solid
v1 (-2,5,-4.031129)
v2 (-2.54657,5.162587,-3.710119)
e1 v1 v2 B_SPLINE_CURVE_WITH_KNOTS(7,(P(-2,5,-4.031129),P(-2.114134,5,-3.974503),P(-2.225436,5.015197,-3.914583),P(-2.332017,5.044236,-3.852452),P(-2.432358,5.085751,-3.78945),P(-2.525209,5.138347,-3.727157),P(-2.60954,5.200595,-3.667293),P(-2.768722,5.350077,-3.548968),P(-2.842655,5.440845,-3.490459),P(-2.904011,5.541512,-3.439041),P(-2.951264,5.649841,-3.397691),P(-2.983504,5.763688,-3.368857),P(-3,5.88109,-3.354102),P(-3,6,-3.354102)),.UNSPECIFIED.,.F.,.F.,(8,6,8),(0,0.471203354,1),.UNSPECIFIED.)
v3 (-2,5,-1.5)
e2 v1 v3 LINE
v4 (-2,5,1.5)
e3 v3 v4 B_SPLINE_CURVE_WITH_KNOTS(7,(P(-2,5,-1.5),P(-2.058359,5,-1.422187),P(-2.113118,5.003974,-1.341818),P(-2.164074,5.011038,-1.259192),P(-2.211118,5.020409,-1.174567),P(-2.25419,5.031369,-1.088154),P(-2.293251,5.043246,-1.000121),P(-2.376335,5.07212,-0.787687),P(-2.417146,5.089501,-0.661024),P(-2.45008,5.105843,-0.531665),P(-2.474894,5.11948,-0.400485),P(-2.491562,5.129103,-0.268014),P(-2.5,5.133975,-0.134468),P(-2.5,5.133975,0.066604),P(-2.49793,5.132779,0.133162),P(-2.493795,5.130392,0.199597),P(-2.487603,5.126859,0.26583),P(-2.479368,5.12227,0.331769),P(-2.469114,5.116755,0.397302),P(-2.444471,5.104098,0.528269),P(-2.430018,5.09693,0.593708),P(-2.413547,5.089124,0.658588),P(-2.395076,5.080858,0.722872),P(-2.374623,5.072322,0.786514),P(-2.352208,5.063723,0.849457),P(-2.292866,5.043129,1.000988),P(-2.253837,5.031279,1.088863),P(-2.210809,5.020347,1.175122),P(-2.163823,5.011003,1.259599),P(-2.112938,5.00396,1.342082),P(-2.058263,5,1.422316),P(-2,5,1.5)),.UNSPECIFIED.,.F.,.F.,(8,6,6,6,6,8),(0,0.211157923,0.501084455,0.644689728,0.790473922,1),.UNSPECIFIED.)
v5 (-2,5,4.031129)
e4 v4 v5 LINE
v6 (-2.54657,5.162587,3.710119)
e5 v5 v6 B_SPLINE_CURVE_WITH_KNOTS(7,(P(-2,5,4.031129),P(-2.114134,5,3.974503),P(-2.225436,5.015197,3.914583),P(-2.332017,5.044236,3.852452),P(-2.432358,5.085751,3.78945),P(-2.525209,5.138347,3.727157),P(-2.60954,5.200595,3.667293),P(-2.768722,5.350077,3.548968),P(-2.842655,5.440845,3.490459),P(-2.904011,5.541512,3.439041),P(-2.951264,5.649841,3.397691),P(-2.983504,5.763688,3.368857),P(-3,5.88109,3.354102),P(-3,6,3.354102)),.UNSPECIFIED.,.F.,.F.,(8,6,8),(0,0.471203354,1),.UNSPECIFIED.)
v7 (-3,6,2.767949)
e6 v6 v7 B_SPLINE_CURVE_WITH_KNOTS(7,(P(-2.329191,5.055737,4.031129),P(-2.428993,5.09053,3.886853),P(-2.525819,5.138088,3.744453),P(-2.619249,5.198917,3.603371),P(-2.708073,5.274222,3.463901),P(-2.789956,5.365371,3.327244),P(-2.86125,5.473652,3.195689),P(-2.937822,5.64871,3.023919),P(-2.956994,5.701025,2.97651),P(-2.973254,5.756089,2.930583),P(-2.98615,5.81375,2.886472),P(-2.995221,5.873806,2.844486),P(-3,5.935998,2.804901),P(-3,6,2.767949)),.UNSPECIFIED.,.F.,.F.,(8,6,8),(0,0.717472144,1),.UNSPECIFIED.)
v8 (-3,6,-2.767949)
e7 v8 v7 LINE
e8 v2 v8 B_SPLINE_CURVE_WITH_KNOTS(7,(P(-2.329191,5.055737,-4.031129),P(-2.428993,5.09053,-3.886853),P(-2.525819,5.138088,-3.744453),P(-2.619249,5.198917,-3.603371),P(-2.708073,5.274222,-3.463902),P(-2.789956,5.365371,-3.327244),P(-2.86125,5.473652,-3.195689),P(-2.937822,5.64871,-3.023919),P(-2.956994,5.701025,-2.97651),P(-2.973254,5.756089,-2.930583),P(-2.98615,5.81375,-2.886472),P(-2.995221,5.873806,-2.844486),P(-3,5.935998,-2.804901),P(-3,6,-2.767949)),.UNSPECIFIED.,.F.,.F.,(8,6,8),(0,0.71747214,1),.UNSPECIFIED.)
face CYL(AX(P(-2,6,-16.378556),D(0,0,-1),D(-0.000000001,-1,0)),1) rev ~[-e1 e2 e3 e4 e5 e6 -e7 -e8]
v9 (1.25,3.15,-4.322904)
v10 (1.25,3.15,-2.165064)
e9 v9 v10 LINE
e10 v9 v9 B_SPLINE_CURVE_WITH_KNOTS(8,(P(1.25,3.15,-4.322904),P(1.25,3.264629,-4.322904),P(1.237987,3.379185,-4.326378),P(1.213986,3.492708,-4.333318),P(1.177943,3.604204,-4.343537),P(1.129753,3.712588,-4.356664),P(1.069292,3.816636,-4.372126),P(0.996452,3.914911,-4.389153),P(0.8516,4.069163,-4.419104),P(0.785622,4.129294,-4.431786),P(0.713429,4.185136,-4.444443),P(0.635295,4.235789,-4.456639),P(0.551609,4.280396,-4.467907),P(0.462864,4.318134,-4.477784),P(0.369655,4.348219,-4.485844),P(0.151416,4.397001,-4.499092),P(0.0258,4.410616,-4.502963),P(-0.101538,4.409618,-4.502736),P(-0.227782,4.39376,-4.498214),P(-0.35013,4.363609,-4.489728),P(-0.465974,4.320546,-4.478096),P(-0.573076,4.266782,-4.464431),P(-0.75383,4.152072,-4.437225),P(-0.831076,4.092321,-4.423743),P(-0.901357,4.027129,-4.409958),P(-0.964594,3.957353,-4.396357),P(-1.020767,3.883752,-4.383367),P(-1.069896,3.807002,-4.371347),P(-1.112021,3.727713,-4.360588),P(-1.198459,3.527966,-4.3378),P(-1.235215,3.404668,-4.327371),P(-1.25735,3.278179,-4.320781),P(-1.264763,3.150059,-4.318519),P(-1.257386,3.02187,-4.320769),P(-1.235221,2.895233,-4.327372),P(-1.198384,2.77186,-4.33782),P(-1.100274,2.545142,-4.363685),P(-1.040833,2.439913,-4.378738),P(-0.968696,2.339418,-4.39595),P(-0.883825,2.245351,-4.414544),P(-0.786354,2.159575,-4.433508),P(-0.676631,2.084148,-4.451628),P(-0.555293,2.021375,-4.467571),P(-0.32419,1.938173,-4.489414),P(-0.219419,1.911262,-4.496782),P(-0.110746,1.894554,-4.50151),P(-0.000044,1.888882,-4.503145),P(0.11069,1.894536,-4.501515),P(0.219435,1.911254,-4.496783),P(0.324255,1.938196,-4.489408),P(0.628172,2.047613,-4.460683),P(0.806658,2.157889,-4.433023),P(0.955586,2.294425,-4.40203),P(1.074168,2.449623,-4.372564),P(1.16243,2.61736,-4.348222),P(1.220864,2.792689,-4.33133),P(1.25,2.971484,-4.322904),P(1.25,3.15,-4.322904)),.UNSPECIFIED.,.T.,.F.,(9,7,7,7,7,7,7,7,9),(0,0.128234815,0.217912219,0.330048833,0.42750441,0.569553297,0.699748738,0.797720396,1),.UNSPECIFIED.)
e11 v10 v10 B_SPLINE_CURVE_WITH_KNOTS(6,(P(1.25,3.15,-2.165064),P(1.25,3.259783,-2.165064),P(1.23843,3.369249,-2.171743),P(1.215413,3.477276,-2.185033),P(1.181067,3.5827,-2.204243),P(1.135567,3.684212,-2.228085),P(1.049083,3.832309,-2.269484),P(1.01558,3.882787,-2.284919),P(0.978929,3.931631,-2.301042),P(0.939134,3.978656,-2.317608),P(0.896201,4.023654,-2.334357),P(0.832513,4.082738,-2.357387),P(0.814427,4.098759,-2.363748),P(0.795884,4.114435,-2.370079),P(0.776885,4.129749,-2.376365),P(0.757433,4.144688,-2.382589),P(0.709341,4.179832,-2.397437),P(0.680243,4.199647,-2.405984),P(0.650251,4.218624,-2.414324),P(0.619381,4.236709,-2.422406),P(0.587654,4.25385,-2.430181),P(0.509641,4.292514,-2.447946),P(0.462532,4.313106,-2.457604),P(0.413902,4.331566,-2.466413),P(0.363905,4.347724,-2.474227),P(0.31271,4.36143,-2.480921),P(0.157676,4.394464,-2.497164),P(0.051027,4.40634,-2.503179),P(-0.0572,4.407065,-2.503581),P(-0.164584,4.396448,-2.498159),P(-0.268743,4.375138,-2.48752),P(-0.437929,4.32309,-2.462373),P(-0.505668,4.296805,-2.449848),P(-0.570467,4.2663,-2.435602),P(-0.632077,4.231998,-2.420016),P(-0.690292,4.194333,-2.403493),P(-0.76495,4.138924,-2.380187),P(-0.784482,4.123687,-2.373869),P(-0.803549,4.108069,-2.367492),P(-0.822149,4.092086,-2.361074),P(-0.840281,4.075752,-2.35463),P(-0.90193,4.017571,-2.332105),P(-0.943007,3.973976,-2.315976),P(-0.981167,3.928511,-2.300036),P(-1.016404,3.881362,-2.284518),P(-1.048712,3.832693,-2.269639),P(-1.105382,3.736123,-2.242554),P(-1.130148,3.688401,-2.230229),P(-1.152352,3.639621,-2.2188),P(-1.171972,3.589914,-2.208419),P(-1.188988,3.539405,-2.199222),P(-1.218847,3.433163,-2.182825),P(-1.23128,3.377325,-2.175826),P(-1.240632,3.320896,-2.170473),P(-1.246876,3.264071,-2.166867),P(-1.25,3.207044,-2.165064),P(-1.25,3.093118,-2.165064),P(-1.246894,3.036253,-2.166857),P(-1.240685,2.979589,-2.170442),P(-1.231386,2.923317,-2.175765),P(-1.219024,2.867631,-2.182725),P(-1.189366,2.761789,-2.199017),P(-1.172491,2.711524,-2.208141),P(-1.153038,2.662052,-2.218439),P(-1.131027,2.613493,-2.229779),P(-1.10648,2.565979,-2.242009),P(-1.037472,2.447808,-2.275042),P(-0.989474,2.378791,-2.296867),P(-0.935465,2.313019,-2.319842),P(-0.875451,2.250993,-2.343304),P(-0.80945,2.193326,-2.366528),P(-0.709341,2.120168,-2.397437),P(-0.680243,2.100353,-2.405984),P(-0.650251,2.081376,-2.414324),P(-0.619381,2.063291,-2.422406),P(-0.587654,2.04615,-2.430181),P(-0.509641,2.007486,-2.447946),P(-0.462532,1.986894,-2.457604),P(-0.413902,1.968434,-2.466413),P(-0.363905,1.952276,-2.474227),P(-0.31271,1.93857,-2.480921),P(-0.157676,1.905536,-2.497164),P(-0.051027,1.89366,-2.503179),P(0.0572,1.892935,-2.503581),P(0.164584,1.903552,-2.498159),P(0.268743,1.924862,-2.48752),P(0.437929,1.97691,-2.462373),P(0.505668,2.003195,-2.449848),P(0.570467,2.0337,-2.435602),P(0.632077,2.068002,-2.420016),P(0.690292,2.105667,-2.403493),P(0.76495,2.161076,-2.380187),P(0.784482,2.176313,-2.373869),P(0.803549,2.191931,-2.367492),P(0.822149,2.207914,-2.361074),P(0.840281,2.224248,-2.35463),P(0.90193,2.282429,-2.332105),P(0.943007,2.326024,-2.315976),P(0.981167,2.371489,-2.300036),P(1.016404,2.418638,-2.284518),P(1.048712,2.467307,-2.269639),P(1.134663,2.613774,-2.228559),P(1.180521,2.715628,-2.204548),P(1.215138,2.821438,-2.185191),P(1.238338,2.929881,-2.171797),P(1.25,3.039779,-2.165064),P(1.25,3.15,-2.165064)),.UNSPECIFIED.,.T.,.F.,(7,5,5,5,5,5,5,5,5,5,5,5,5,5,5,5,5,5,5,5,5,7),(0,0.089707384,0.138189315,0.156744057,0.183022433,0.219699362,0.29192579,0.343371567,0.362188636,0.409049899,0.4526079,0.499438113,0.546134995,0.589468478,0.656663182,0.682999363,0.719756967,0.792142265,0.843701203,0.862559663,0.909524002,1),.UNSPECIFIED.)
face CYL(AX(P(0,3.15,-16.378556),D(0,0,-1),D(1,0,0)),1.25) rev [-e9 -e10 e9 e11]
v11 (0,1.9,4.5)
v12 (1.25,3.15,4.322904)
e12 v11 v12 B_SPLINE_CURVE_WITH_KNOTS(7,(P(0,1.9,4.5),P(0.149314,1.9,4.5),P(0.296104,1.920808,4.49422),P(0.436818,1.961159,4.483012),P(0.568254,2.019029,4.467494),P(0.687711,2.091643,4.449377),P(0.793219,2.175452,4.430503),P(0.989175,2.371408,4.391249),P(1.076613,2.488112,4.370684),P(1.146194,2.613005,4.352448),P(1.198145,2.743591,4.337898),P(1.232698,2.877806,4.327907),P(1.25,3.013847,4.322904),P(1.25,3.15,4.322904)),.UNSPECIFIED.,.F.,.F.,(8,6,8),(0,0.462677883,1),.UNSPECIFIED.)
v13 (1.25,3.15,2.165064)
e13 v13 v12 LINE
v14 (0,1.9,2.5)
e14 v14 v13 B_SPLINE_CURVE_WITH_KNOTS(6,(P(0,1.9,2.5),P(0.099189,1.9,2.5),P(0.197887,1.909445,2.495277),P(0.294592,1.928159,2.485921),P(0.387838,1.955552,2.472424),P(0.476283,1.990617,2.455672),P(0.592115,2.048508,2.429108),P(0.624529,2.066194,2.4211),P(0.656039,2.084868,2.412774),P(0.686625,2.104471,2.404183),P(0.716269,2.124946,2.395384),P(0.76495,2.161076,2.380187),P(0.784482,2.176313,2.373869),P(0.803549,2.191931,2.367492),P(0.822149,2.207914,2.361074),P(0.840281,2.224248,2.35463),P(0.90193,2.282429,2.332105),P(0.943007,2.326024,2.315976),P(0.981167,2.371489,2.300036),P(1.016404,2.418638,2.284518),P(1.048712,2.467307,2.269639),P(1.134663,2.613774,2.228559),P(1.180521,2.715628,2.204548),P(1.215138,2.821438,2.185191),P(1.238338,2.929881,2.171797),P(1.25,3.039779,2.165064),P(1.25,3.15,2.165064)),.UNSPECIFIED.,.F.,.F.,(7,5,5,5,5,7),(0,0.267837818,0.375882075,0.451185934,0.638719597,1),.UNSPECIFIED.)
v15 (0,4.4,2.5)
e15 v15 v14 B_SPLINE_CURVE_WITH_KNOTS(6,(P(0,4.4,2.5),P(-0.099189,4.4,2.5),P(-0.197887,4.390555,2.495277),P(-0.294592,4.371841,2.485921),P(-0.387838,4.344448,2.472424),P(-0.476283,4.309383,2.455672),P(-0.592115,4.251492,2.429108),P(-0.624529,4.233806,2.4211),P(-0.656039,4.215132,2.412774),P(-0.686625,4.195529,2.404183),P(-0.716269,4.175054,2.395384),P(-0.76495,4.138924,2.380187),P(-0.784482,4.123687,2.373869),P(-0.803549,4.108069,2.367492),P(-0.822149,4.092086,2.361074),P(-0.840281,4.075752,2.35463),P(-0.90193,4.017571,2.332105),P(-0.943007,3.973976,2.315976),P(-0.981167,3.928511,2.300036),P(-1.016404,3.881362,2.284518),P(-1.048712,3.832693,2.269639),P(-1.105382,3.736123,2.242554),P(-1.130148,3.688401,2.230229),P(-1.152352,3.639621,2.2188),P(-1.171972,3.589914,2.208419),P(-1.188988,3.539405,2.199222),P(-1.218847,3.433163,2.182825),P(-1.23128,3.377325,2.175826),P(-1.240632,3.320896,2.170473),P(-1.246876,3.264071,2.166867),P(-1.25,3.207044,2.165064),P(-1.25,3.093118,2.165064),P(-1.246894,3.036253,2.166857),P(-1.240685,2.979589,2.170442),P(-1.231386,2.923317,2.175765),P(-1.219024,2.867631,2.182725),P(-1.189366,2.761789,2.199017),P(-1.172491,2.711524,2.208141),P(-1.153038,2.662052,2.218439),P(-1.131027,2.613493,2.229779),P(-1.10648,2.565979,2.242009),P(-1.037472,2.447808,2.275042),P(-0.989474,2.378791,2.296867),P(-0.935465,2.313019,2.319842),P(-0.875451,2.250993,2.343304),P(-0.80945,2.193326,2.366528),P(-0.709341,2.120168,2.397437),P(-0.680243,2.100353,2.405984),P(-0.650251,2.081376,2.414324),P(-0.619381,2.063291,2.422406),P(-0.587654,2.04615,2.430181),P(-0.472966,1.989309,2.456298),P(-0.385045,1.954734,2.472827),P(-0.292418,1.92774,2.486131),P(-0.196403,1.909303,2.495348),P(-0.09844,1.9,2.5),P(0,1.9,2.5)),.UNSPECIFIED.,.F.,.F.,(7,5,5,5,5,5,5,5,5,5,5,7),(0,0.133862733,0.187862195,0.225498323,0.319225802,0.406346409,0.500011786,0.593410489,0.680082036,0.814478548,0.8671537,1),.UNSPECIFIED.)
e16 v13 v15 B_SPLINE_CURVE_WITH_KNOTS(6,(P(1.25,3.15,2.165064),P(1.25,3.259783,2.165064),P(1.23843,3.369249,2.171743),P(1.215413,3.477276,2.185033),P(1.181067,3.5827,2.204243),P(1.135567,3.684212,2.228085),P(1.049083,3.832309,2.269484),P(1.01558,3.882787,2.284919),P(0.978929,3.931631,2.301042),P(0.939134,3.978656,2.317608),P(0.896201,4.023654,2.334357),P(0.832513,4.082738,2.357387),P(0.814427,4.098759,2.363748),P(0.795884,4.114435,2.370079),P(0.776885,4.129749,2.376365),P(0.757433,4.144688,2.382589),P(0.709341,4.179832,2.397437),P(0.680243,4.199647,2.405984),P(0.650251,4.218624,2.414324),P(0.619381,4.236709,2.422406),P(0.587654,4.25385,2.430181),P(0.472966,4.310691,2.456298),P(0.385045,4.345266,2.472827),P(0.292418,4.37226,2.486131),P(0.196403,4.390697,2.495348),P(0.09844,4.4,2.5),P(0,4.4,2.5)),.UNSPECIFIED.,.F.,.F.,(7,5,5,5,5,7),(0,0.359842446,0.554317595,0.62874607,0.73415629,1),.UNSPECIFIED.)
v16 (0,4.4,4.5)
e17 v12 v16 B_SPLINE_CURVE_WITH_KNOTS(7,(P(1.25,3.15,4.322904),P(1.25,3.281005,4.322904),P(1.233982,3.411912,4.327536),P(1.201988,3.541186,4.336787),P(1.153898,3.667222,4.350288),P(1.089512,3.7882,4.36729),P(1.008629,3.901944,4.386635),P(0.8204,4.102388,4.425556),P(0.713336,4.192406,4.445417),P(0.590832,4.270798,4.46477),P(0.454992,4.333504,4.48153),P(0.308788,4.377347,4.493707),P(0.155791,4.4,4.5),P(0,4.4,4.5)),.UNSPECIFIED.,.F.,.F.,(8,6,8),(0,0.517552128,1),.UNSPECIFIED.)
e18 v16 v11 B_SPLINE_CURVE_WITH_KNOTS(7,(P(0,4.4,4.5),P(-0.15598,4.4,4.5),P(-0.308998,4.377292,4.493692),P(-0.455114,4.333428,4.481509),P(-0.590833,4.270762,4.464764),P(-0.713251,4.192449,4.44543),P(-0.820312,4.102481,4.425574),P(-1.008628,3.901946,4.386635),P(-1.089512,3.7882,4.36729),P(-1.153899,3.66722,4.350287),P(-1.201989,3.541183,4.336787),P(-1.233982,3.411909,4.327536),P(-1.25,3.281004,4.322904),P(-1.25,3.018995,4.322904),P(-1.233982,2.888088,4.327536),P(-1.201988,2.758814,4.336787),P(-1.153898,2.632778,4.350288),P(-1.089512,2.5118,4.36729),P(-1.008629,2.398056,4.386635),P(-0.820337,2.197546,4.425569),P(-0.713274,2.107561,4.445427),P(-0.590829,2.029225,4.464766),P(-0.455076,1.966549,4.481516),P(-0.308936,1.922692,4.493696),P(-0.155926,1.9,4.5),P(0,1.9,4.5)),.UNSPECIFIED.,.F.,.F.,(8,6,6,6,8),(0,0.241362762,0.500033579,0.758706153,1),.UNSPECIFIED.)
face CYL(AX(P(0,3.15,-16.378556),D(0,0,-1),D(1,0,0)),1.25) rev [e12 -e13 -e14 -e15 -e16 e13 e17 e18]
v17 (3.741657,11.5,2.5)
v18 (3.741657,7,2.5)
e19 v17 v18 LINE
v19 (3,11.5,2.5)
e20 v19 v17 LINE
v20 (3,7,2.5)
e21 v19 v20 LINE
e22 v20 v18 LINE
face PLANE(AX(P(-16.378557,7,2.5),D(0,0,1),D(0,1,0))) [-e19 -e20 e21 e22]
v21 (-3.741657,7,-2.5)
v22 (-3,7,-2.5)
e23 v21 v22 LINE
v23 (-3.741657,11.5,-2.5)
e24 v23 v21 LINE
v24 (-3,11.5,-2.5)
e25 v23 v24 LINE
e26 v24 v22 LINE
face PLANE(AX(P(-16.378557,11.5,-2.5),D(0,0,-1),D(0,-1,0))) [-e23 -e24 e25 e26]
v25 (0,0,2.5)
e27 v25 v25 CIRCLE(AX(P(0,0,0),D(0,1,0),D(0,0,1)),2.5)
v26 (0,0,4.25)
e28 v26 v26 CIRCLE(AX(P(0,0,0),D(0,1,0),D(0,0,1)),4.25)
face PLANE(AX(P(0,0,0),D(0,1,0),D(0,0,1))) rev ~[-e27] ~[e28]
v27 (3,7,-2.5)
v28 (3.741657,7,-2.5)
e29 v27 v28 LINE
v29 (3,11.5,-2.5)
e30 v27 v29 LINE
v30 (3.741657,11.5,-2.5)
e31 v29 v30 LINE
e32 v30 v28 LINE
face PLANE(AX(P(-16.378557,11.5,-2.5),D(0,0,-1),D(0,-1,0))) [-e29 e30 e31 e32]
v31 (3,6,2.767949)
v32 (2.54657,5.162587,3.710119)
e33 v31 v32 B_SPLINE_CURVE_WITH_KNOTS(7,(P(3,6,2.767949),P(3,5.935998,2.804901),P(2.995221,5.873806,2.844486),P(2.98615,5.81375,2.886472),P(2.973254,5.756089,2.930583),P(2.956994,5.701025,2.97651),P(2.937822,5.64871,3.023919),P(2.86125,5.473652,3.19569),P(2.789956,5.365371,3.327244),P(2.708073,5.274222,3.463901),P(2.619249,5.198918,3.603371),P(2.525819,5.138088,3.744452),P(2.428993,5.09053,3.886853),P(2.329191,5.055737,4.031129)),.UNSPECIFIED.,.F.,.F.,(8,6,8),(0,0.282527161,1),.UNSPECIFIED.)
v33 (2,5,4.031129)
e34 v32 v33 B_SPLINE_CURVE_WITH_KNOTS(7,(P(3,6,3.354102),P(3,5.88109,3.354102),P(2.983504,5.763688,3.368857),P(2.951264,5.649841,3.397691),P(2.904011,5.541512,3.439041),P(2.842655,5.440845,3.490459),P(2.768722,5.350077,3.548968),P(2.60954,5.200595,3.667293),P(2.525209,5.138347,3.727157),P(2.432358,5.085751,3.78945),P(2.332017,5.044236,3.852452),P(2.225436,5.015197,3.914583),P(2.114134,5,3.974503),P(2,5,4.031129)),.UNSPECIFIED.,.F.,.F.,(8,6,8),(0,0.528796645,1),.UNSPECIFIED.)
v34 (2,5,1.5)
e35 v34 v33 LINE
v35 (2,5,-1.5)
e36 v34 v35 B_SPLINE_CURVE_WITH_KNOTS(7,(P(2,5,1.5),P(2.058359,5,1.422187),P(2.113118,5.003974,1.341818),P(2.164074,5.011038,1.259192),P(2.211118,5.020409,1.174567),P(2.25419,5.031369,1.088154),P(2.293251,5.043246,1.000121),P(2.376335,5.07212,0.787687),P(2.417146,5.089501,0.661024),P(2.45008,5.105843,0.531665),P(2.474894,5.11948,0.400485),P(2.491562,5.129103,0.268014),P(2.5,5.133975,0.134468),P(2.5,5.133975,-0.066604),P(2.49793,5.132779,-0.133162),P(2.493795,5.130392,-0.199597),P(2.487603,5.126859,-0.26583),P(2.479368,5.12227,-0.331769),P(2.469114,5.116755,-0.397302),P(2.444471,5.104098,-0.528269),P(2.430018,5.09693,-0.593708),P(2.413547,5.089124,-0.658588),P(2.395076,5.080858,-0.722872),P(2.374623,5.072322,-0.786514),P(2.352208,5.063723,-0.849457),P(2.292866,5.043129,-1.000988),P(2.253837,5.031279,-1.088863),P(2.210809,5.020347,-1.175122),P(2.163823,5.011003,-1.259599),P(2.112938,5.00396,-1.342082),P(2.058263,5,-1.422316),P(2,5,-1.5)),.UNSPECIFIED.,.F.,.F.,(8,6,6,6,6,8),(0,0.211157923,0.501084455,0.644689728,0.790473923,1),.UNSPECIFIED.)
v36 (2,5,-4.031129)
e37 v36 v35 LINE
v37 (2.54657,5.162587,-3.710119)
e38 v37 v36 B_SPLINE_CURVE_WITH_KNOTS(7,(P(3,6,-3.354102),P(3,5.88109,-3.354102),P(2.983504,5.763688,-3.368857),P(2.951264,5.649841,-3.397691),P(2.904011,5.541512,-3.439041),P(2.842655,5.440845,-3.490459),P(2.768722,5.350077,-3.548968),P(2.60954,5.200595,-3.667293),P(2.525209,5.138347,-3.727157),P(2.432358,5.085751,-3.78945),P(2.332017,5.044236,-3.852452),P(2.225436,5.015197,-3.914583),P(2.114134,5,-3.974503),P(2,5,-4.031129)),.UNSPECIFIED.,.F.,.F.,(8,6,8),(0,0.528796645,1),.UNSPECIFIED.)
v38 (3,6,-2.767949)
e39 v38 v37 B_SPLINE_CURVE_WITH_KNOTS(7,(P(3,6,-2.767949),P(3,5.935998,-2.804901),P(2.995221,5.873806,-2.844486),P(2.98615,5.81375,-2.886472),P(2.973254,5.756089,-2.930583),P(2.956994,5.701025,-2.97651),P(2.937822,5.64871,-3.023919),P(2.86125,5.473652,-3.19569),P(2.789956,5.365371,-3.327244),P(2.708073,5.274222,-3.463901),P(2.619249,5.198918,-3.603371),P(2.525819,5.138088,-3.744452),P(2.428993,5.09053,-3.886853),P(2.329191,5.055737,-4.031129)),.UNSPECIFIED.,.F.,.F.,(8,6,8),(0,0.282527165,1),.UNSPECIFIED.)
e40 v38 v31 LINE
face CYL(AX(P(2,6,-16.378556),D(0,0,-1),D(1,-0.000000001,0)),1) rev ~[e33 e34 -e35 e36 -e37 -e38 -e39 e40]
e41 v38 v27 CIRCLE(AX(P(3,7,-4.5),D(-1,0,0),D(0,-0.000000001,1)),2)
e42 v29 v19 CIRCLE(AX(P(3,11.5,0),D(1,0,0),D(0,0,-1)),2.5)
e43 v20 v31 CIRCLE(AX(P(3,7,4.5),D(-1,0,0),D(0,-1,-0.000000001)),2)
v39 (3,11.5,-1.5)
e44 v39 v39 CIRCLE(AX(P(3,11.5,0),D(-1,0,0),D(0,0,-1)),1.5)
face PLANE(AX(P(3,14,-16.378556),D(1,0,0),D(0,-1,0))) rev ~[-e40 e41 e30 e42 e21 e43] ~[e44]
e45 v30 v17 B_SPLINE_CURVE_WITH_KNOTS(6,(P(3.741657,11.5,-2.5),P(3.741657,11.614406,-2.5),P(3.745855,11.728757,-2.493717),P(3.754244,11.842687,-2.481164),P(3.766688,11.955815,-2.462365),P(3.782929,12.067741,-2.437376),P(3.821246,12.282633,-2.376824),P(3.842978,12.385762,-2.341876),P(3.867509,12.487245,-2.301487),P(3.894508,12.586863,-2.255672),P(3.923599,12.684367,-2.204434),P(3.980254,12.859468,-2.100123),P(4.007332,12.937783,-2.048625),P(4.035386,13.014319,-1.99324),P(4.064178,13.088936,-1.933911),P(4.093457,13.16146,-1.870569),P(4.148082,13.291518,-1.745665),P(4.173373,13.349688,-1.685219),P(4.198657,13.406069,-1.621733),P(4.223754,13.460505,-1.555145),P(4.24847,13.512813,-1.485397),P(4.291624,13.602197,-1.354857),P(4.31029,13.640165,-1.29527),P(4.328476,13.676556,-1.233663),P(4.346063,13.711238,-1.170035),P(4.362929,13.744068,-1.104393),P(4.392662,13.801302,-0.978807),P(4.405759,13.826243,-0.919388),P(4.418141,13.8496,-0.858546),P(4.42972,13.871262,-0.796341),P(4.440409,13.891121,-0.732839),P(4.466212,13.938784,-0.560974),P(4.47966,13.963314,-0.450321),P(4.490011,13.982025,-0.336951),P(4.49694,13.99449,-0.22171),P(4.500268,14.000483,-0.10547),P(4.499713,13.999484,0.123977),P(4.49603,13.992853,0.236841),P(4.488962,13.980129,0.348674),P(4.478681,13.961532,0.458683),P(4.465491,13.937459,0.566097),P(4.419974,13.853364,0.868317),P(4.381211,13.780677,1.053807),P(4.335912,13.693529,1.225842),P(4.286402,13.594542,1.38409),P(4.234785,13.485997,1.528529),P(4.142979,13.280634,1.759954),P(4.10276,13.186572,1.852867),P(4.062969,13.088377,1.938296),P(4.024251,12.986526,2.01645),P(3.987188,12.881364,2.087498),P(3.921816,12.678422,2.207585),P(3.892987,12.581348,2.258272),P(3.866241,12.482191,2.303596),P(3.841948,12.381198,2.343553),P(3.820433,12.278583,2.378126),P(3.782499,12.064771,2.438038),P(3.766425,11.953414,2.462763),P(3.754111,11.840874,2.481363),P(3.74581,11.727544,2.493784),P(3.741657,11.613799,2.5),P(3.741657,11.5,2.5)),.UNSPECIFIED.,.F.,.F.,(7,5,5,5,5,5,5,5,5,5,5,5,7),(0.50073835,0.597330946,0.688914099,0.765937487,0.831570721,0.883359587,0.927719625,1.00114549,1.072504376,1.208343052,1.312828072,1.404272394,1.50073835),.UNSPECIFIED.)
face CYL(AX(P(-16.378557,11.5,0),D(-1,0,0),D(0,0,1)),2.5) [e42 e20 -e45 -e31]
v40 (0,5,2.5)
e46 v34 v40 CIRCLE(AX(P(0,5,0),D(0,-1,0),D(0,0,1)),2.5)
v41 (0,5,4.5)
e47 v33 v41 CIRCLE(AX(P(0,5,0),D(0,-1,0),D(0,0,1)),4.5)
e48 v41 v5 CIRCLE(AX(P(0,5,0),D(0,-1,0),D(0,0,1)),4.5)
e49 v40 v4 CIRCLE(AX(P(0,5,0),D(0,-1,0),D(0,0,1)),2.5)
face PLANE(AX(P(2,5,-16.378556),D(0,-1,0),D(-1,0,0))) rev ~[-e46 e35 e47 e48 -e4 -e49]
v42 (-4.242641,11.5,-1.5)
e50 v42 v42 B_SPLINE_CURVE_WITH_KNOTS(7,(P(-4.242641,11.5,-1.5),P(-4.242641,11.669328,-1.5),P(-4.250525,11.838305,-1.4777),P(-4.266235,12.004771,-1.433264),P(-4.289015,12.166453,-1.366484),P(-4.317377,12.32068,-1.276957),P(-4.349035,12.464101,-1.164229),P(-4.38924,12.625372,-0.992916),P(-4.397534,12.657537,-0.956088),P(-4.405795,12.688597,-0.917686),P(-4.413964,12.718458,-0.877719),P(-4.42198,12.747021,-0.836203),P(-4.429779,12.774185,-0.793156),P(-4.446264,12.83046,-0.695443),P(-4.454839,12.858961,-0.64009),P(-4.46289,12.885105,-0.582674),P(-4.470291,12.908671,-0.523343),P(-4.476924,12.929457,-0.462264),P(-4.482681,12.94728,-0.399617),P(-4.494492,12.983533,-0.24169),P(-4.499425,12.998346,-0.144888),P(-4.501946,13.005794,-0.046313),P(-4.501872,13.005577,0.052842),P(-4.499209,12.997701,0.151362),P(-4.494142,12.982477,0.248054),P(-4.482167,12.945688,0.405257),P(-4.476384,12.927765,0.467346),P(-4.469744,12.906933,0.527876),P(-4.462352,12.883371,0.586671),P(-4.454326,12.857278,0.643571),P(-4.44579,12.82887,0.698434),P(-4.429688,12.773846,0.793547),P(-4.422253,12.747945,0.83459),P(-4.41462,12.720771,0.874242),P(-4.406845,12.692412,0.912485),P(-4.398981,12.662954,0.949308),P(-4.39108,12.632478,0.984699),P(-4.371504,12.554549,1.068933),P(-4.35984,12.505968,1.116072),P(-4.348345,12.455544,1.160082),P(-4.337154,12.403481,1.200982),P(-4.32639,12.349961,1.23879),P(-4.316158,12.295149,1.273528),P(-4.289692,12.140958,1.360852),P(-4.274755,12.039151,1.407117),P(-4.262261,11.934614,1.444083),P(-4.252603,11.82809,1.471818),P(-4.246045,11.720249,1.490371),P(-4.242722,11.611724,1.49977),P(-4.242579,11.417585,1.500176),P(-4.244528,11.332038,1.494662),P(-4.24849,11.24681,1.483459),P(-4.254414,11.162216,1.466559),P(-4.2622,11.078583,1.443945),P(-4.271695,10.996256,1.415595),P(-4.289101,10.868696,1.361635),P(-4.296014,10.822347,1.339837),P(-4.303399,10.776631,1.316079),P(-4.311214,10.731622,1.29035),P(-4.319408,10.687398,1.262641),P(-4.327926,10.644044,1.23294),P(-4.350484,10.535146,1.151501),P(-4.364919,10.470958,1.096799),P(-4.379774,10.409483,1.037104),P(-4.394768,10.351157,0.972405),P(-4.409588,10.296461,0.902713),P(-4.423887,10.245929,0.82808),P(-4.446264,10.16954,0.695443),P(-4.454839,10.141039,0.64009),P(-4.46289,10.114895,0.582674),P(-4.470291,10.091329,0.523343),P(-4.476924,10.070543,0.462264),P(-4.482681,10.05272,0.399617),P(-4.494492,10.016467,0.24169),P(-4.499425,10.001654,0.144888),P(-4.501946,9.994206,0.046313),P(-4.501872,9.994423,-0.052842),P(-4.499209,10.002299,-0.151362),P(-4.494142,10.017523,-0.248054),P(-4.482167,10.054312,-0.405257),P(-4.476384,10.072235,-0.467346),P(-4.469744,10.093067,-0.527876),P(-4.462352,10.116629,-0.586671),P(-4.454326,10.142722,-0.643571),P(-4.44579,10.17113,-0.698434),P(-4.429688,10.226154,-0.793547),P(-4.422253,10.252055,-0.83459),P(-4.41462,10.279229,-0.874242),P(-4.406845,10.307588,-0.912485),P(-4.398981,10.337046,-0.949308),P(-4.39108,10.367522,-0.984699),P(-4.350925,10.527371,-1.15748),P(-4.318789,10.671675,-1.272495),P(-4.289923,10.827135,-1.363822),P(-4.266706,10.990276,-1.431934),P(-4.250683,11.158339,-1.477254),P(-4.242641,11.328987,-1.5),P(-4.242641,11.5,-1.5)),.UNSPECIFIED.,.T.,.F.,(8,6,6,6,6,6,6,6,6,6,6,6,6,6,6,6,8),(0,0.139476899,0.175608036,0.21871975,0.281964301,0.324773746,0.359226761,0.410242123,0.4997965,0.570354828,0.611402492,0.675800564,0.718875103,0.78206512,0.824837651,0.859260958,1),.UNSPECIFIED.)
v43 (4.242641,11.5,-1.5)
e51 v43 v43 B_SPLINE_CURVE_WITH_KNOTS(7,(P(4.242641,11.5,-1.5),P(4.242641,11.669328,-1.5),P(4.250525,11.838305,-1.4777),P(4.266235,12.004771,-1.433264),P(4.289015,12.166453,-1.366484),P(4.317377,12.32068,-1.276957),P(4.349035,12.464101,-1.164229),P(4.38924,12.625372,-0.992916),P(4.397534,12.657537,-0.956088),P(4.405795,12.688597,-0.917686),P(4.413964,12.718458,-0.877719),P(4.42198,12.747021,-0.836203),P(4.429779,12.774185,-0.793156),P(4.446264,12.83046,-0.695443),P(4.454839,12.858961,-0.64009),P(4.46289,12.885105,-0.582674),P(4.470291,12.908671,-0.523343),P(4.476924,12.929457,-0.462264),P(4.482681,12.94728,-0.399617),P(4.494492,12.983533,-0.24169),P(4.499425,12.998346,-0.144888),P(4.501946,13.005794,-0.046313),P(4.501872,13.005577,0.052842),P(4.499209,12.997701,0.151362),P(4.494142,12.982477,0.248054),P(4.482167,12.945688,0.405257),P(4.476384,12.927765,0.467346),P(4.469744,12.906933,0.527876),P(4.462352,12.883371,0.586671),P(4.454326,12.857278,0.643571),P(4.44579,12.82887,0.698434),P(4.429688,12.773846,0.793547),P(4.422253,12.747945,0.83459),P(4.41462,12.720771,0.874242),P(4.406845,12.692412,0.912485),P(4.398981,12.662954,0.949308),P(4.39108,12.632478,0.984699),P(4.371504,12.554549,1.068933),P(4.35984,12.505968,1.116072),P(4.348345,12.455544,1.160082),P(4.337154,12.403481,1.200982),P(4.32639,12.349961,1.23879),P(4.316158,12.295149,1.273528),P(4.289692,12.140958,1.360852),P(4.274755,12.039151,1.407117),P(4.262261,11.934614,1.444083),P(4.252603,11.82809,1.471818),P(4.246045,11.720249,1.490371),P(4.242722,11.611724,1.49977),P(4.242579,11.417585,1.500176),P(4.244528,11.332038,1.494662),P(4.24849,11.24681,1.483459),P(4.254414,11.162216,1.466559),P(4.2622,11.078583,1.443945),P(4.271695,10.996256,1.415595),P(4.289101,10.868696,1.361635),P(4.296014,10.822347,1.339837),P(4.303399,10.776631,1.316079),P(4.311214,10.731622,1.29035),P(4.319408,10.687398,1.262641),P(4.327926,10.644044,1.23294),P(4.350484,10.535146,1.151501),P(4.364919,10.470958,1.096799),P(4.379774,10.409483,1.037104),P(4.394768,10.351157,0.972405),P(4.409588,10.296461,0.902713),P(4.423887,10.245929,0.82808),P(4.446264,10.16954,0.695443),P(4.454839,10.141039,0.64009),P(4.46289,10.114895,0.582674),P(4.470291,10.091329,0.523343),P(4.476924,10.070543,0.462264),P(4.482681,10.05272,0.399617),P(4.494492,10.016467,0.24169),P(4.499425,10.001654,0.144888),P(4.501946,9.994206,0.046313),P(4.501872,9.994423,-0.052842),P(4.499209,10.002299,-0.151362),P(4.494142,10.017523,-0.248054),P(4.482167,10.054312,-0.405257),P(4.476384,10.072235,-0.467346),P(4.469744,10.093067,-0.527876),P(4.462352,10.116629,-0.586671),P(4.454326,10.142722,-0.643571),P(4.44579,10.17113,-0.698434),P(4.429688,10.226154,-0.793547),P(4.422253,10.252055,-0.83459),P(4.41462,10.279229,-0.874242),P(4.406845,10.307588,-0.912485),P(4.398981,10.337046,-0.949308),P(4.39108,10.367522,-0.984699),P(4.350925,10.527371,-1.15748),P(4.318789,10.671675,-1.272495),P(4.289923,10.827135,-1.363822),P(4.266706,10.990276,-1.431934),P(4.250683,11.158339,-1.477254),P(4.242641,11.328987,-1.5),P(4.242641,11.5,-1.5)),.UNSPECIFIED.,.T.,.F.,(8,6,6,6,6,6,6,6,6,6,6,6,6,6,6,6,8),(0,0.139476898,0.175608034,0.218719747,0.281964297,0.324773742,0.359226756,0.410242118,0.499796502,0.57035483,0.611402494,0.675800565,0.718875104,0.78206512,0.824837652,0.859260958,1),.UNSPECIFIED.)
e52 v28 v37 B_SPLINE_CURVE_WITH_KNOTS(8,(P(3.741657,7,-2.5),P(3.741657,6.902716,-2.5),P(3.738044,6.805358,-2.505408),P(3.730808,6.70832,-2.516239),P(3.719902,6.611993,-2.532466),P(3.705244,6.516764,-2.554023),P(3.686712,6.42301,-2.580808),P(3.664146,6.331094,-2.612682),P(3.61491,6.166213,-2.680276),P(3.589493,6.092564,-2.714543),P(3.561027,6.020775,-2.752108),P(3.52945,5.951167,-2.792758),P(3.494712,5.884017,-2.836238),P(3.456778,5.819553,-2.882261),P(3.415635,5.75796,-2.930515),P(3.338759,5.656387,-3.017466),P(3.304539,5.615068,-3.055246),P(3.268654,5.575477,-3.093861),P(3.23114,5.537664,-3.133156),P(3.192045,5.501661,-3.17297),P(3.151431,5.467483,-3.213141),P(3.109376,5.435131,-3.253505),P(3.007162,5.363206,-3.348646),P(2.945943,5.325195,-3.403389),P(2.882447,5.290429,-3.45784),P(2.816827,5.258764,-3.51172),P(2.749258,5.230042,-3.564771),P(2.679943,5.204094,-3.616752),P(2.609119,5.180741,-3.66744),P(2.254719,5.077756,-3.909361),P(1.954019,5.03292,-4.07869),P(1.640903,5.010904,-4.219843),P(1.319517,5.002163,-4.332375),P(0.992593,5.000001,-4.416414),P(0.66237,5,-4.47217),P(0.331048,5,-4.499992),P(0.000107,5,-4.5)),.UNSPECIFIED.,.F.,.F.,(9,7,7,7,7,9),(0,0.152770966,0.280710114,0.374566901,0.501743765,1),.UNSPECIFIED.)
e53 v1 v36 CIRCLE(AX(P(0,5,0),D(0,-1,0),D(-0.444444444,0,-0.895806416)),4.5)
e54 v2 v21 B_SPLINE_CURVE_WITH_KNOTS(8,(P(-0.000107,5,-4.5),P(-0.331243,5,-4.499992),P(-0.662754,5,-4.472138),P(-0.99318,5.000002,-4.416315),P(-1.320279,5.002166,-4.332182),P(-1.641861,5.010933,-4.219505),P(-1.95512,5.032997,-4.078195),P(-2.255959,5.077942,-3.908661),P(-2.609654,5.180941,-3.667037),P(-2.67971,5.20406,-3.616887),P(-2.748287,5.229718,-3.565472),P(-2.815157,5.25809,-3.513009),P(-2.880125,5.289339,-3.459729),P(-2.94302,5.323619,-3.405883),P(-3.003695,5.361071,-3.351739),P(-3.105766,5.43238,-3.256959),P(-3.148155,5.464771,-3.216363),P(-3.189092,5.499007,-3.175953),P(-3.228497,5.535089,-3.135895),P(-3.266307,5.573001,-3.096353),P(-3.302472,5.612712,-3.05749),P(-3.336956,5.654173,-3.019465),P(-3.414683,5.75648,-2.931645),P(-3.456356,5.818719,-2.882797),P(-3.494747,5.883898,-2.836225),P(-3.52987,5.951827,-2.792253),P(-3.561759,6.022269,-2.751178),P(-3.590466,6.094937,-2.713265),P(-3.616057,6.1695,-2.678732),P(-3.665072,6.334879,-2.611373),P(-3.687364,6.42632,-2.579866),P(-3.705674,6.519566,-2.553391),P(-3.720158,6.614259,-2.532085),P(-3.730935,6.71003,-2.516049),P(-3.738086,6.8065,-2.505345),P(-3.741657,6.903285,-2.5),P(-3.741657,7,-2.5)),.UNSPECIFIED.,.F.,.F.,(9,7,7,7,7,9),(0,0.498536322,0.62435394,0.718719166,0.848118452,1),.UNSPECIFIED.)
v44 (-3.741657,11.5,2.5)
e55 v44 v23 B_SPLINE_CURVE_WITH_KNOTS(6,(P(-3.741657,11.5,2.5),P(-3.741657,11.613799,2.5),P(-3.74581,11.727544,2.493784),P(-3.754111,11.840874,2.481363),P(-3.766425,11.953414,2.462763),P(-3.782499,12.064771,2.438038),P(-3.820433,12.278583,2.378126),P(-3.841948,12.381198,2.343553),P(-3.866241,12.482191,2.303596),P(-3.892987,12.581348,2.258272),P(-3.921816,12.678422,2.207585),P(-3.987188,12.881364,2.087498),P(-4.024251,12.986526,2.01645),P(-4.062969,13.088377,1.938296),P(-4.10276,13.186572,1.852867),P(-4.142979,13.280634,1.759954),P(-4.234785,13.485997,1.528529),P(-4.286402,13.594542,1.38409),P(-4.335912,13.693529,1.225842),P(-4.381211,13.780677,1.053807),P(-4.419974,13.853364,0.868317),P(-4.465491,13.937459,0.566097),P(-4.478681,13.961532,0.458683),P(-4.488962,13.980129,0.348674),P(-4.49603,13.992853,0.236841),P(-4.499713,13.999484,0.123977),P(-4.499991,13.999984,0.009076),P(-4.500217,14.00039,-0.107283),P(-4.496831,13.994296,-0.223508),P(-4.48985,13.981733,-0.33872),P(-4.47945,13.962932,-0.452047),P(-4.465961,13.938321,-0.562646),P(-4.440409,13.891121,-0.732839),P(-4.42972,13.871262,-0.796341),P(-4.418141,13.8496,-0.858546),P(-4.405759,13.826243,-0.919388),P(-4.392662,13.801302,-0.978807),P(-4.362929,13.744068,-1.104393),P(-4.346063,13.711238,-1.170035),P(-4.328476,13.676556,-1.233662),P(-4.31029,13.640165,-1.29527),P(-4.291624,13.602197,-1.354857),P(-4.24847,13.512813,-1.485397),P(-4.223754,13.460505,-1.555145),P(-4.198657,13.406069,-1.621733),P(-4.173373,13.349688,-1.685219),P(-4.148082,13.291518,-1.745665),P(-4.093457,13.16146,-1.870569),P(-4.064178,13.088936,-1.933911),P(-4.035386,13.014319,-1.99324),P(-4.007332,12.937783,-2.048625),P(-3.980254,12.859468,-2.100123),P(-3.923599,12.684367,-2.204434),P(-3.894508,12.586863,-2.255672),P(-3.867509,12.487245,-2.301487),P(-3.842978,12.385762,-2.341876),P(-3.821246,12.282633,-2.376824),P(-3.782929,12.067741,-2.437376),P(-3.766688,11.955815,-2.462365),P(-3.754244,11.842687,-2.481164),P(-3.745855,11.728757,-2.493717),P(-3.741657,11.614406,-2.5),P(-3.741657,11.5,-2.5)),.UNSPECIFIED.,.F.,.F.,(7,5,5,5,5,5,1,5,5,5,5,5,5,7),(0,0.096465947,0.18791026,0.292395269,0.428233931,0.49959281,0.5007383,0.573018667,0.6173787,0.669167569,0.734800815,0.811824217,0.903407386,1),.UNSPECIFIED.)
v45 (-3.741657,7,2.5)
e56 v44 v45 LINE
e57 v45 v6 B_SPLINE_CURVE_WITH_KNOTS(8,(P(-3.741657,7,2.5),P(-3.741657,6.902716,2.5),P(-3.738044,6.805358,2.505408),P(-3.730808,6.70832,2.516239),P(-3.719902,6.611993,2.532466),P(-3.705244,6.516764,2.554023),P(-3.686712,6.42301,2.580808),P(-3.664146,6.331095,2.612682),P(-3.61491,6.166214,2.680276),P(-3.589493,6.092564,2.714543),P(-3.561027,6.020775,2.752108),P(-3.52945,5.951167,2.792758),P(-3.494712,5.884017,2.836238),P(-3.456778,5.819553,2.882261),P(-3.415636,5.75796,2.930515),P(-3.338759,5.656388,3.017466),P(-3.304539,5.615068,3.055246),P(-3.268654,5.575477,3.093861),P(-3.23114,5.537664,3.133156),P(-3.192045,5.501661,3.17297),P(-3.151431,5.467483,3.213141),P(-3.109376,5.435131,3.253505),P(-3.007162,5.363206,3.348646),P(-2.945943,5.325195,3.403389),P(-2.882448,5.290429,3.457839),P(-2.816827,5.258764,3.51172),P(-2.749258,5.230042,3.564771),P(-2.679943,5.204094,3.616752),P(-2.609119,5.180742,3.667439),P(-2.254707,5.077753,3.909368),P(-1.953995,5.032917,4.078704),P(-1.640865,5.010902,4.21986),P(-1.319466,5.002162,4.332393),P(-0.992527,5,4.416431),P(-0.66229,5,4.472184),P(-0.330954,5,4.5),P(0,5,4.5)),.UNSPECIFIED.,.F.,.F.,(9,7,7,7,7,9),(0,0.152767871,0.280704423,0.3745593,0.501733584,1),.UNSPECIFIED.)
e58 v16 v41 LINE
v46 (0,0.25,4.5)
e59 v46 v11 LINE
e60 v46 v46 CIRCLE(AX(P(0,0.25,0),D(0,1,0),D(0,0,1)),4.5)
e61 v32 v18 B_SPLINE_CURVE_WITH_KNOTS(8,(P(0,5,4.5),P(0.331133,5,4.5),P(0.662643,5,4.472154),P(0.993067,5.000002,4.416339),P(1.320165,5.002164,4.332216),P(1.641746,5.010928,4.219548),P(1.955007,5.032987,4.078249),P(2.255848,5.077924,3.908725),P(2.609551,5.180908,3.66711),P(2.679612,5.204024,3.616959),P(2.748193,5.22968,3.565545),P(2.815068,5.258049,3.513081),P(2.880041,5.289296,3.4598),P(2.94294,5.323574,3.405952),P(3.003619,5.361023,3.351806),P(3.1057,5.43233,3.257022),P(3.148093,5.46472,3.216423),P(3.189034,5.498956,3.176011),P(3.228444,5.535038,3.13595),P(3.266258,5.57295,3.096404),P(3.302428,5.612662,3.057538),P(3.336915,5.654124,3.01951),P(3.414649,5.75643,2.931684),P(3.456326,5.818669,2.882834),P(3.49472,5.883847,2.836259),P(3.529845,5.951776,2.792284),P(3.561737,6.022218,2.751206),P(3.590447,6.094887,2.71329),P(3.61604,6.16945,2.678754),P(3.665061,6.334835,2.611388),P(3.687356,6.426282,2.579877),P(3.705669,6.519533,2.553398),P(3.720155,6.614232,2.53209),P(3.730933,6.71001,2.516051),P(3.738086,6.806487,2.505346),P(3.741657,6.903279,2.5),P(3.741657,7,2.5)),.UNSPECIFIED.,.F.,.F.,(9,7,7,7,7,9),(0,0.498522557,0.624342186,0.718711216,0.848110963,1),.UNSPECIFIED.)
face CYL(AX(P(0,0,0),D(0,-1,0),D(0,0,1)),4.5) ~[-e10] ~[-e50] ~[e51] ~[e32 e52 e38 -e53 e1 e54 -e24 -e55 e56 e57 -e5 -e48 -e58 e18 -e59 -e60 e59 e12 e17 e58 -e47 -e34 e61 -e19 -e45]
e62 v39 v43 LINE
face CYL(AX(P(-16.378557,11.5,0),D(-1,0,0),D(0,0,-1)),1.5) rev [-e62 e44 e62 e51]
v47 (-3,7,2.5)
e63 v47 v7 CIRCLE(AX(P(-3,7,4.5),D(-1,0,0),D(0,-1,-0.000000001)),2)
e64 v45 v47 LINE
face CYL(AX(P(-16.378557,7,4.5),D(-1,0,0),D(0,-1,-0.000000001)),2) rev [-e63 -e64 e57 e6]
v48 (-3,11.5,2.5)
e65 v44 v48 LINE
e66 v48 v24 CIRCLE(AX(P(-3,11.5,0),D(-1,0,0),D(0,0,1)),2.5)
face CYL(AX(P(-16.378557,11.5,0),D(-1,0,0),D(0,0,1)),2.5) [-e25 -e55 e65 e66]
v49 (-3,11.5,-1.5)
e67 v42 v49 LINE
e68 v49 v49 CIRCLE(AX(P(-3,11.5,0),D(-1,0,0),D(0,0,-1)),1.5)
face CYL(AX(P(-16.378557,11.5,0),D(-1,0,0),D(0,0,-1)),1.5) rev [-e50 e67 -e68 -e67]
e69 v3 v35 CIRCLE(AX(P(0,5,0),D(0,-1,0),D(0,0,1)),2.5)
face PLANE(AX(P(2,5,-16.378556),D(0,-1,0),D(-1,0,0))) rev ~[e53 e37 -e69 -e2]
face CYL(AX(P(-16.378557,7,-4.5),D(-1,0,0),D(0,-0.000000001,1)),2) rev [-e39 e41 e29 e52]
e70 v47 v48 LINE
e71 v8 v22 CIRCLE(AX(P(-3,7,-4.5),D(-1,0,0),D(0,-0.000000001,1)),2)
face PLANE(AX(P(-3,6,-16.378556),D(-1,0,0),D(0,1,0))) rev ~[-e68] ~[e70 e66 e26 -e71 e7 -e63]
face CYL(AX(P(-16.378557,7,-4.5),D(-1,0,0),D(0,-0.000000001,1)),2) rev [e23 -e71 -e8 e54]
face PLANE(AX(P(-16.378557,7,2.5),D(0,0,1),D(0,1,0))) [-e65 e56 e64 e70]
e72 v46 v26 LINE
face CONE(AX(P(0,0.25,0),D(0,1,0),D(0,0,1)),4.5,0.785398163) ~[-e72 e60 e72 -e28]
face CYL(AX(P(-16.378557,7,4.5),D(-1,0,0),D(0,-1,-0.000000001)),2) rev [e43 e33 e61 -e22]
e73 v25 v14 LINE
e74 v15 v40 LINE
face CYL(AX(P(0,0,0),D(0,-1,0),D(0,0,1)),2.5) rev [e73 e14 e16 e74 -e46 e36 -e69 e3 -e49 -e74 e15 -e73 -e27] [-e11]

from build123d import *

# Parameters (mm, degrees)
SKETCH1_R               = 4.5
SKETCH1_R_2             = 2.5
BOSS_EXTRUDE1_DEPTH     = 14
CUT_EXTRUDE1_DEPTH      = 16.378556499
CUT_EXTRUDE1_DEPTH_BACK = 16.378556499
SKETCH2_R               = 1.25
CUT_EXTRUDE2_DEPTH      = 16.378556652
CUT_EXTRUDE2_DEPTH_BACK = 16.378556652
SKETCH3_R               = 1.5
CHAMFER1_SIZE           = 0.25


with BuildPart() as part:
    # Sketch1 → Boss-Extrude1 (new body)
    with BuildSketch(Plane(origin=(0, 0, 0), x_dir=(1, 0, 0), z_dir=(0, 1, 0))):
        with Locations(Location((0, 0, 0), (0, 0, 270))):
            Circle(SKETCH1_R)
        with Locations(Location((0, 0, 0), (0, 0, 270))):
            Circle(SKETCH1_R_2, mode=Mode.SUBTRACT)
    extrude(amount=BOSS_EXTRUDE1_DEPTH)

    # Sketch2 → Cut-Extrude1 (cut, two sides: drawn at the far end of the back side and taken through both)
    with BuildSketch(Plane.XY.offset(-CUT_EXTRUDE1_DEPTH_BACK)):
        with Locations((0, 3.15)):
            Circle(SKETCH2_R)
        with BuildLine():
            Line((-3, 14), (3, 14))
            Line((3, 14), (3, 6))
            ThreePointArc((3, 6), (2.707106781, 5.292893219), (2, 5))
            Line((2, 5), (-2, 5))
            ThreePointArc((-2, 5), (-2.707106781, 5.292893219), (-3, 6))
            Line((-3, 6), (-3, 14))
        make_face()
    extrude(amount=CUT_EXTRUDE1_DEPTH + CUT_EXTRUDE1_DEPTH_BACK, mode=Mode.SUBTRACT)

    # Sketch3 → Cut-Extrude2 (cut, two sides: drawn at the far end of the back side and taken through both)
    with BuildSketch(Plane(origin=(0, 0, 0), x_dir=(0, 0, -1), z_dir=(1, 0, 0)).offset(-CUT_EXTRUDE2_DEPTH_BACK)):
        with Locations((0, 11.5)):
            Circle(SKETCH3_R)
        with BuildLine():
            Line((2.5, 11.5), (2.5, 7))
            ThreePointArc((2.5, 7), (3.085786438, 5.585786438), (4.5, 5))
            Line((4.5, 5), (4.5, 15))
            Line((4.5, 15), (-4.5, 15))
            Line((-4.5, 15), (-4.5, 5))
            ThreePointArc((-4.5, 5), (-3.085786438, 5.585786438), (-2.5, 7))
            Line((-2.5, 7), (-2.5, 11.5))
            ThreePointArc((-2.5, 11.5), (0, 14), (2.5, 11.5))
        make_face()
    extrude(amount=CUT_EXTRUDE2_DEPTH + CUT_EXTRUDE2_DEPTH_BACK, mode=Mode.SUBTRACT)

    # Chamfer1
    chamfer1_edges = [part.edges().sort_by_distance(p)[0] for p in [
        (0, 0, -4.5),
    ]]
    chamfer(chamfer1_edges, length=CHAMFER1_SIZE)


solid = part.part
